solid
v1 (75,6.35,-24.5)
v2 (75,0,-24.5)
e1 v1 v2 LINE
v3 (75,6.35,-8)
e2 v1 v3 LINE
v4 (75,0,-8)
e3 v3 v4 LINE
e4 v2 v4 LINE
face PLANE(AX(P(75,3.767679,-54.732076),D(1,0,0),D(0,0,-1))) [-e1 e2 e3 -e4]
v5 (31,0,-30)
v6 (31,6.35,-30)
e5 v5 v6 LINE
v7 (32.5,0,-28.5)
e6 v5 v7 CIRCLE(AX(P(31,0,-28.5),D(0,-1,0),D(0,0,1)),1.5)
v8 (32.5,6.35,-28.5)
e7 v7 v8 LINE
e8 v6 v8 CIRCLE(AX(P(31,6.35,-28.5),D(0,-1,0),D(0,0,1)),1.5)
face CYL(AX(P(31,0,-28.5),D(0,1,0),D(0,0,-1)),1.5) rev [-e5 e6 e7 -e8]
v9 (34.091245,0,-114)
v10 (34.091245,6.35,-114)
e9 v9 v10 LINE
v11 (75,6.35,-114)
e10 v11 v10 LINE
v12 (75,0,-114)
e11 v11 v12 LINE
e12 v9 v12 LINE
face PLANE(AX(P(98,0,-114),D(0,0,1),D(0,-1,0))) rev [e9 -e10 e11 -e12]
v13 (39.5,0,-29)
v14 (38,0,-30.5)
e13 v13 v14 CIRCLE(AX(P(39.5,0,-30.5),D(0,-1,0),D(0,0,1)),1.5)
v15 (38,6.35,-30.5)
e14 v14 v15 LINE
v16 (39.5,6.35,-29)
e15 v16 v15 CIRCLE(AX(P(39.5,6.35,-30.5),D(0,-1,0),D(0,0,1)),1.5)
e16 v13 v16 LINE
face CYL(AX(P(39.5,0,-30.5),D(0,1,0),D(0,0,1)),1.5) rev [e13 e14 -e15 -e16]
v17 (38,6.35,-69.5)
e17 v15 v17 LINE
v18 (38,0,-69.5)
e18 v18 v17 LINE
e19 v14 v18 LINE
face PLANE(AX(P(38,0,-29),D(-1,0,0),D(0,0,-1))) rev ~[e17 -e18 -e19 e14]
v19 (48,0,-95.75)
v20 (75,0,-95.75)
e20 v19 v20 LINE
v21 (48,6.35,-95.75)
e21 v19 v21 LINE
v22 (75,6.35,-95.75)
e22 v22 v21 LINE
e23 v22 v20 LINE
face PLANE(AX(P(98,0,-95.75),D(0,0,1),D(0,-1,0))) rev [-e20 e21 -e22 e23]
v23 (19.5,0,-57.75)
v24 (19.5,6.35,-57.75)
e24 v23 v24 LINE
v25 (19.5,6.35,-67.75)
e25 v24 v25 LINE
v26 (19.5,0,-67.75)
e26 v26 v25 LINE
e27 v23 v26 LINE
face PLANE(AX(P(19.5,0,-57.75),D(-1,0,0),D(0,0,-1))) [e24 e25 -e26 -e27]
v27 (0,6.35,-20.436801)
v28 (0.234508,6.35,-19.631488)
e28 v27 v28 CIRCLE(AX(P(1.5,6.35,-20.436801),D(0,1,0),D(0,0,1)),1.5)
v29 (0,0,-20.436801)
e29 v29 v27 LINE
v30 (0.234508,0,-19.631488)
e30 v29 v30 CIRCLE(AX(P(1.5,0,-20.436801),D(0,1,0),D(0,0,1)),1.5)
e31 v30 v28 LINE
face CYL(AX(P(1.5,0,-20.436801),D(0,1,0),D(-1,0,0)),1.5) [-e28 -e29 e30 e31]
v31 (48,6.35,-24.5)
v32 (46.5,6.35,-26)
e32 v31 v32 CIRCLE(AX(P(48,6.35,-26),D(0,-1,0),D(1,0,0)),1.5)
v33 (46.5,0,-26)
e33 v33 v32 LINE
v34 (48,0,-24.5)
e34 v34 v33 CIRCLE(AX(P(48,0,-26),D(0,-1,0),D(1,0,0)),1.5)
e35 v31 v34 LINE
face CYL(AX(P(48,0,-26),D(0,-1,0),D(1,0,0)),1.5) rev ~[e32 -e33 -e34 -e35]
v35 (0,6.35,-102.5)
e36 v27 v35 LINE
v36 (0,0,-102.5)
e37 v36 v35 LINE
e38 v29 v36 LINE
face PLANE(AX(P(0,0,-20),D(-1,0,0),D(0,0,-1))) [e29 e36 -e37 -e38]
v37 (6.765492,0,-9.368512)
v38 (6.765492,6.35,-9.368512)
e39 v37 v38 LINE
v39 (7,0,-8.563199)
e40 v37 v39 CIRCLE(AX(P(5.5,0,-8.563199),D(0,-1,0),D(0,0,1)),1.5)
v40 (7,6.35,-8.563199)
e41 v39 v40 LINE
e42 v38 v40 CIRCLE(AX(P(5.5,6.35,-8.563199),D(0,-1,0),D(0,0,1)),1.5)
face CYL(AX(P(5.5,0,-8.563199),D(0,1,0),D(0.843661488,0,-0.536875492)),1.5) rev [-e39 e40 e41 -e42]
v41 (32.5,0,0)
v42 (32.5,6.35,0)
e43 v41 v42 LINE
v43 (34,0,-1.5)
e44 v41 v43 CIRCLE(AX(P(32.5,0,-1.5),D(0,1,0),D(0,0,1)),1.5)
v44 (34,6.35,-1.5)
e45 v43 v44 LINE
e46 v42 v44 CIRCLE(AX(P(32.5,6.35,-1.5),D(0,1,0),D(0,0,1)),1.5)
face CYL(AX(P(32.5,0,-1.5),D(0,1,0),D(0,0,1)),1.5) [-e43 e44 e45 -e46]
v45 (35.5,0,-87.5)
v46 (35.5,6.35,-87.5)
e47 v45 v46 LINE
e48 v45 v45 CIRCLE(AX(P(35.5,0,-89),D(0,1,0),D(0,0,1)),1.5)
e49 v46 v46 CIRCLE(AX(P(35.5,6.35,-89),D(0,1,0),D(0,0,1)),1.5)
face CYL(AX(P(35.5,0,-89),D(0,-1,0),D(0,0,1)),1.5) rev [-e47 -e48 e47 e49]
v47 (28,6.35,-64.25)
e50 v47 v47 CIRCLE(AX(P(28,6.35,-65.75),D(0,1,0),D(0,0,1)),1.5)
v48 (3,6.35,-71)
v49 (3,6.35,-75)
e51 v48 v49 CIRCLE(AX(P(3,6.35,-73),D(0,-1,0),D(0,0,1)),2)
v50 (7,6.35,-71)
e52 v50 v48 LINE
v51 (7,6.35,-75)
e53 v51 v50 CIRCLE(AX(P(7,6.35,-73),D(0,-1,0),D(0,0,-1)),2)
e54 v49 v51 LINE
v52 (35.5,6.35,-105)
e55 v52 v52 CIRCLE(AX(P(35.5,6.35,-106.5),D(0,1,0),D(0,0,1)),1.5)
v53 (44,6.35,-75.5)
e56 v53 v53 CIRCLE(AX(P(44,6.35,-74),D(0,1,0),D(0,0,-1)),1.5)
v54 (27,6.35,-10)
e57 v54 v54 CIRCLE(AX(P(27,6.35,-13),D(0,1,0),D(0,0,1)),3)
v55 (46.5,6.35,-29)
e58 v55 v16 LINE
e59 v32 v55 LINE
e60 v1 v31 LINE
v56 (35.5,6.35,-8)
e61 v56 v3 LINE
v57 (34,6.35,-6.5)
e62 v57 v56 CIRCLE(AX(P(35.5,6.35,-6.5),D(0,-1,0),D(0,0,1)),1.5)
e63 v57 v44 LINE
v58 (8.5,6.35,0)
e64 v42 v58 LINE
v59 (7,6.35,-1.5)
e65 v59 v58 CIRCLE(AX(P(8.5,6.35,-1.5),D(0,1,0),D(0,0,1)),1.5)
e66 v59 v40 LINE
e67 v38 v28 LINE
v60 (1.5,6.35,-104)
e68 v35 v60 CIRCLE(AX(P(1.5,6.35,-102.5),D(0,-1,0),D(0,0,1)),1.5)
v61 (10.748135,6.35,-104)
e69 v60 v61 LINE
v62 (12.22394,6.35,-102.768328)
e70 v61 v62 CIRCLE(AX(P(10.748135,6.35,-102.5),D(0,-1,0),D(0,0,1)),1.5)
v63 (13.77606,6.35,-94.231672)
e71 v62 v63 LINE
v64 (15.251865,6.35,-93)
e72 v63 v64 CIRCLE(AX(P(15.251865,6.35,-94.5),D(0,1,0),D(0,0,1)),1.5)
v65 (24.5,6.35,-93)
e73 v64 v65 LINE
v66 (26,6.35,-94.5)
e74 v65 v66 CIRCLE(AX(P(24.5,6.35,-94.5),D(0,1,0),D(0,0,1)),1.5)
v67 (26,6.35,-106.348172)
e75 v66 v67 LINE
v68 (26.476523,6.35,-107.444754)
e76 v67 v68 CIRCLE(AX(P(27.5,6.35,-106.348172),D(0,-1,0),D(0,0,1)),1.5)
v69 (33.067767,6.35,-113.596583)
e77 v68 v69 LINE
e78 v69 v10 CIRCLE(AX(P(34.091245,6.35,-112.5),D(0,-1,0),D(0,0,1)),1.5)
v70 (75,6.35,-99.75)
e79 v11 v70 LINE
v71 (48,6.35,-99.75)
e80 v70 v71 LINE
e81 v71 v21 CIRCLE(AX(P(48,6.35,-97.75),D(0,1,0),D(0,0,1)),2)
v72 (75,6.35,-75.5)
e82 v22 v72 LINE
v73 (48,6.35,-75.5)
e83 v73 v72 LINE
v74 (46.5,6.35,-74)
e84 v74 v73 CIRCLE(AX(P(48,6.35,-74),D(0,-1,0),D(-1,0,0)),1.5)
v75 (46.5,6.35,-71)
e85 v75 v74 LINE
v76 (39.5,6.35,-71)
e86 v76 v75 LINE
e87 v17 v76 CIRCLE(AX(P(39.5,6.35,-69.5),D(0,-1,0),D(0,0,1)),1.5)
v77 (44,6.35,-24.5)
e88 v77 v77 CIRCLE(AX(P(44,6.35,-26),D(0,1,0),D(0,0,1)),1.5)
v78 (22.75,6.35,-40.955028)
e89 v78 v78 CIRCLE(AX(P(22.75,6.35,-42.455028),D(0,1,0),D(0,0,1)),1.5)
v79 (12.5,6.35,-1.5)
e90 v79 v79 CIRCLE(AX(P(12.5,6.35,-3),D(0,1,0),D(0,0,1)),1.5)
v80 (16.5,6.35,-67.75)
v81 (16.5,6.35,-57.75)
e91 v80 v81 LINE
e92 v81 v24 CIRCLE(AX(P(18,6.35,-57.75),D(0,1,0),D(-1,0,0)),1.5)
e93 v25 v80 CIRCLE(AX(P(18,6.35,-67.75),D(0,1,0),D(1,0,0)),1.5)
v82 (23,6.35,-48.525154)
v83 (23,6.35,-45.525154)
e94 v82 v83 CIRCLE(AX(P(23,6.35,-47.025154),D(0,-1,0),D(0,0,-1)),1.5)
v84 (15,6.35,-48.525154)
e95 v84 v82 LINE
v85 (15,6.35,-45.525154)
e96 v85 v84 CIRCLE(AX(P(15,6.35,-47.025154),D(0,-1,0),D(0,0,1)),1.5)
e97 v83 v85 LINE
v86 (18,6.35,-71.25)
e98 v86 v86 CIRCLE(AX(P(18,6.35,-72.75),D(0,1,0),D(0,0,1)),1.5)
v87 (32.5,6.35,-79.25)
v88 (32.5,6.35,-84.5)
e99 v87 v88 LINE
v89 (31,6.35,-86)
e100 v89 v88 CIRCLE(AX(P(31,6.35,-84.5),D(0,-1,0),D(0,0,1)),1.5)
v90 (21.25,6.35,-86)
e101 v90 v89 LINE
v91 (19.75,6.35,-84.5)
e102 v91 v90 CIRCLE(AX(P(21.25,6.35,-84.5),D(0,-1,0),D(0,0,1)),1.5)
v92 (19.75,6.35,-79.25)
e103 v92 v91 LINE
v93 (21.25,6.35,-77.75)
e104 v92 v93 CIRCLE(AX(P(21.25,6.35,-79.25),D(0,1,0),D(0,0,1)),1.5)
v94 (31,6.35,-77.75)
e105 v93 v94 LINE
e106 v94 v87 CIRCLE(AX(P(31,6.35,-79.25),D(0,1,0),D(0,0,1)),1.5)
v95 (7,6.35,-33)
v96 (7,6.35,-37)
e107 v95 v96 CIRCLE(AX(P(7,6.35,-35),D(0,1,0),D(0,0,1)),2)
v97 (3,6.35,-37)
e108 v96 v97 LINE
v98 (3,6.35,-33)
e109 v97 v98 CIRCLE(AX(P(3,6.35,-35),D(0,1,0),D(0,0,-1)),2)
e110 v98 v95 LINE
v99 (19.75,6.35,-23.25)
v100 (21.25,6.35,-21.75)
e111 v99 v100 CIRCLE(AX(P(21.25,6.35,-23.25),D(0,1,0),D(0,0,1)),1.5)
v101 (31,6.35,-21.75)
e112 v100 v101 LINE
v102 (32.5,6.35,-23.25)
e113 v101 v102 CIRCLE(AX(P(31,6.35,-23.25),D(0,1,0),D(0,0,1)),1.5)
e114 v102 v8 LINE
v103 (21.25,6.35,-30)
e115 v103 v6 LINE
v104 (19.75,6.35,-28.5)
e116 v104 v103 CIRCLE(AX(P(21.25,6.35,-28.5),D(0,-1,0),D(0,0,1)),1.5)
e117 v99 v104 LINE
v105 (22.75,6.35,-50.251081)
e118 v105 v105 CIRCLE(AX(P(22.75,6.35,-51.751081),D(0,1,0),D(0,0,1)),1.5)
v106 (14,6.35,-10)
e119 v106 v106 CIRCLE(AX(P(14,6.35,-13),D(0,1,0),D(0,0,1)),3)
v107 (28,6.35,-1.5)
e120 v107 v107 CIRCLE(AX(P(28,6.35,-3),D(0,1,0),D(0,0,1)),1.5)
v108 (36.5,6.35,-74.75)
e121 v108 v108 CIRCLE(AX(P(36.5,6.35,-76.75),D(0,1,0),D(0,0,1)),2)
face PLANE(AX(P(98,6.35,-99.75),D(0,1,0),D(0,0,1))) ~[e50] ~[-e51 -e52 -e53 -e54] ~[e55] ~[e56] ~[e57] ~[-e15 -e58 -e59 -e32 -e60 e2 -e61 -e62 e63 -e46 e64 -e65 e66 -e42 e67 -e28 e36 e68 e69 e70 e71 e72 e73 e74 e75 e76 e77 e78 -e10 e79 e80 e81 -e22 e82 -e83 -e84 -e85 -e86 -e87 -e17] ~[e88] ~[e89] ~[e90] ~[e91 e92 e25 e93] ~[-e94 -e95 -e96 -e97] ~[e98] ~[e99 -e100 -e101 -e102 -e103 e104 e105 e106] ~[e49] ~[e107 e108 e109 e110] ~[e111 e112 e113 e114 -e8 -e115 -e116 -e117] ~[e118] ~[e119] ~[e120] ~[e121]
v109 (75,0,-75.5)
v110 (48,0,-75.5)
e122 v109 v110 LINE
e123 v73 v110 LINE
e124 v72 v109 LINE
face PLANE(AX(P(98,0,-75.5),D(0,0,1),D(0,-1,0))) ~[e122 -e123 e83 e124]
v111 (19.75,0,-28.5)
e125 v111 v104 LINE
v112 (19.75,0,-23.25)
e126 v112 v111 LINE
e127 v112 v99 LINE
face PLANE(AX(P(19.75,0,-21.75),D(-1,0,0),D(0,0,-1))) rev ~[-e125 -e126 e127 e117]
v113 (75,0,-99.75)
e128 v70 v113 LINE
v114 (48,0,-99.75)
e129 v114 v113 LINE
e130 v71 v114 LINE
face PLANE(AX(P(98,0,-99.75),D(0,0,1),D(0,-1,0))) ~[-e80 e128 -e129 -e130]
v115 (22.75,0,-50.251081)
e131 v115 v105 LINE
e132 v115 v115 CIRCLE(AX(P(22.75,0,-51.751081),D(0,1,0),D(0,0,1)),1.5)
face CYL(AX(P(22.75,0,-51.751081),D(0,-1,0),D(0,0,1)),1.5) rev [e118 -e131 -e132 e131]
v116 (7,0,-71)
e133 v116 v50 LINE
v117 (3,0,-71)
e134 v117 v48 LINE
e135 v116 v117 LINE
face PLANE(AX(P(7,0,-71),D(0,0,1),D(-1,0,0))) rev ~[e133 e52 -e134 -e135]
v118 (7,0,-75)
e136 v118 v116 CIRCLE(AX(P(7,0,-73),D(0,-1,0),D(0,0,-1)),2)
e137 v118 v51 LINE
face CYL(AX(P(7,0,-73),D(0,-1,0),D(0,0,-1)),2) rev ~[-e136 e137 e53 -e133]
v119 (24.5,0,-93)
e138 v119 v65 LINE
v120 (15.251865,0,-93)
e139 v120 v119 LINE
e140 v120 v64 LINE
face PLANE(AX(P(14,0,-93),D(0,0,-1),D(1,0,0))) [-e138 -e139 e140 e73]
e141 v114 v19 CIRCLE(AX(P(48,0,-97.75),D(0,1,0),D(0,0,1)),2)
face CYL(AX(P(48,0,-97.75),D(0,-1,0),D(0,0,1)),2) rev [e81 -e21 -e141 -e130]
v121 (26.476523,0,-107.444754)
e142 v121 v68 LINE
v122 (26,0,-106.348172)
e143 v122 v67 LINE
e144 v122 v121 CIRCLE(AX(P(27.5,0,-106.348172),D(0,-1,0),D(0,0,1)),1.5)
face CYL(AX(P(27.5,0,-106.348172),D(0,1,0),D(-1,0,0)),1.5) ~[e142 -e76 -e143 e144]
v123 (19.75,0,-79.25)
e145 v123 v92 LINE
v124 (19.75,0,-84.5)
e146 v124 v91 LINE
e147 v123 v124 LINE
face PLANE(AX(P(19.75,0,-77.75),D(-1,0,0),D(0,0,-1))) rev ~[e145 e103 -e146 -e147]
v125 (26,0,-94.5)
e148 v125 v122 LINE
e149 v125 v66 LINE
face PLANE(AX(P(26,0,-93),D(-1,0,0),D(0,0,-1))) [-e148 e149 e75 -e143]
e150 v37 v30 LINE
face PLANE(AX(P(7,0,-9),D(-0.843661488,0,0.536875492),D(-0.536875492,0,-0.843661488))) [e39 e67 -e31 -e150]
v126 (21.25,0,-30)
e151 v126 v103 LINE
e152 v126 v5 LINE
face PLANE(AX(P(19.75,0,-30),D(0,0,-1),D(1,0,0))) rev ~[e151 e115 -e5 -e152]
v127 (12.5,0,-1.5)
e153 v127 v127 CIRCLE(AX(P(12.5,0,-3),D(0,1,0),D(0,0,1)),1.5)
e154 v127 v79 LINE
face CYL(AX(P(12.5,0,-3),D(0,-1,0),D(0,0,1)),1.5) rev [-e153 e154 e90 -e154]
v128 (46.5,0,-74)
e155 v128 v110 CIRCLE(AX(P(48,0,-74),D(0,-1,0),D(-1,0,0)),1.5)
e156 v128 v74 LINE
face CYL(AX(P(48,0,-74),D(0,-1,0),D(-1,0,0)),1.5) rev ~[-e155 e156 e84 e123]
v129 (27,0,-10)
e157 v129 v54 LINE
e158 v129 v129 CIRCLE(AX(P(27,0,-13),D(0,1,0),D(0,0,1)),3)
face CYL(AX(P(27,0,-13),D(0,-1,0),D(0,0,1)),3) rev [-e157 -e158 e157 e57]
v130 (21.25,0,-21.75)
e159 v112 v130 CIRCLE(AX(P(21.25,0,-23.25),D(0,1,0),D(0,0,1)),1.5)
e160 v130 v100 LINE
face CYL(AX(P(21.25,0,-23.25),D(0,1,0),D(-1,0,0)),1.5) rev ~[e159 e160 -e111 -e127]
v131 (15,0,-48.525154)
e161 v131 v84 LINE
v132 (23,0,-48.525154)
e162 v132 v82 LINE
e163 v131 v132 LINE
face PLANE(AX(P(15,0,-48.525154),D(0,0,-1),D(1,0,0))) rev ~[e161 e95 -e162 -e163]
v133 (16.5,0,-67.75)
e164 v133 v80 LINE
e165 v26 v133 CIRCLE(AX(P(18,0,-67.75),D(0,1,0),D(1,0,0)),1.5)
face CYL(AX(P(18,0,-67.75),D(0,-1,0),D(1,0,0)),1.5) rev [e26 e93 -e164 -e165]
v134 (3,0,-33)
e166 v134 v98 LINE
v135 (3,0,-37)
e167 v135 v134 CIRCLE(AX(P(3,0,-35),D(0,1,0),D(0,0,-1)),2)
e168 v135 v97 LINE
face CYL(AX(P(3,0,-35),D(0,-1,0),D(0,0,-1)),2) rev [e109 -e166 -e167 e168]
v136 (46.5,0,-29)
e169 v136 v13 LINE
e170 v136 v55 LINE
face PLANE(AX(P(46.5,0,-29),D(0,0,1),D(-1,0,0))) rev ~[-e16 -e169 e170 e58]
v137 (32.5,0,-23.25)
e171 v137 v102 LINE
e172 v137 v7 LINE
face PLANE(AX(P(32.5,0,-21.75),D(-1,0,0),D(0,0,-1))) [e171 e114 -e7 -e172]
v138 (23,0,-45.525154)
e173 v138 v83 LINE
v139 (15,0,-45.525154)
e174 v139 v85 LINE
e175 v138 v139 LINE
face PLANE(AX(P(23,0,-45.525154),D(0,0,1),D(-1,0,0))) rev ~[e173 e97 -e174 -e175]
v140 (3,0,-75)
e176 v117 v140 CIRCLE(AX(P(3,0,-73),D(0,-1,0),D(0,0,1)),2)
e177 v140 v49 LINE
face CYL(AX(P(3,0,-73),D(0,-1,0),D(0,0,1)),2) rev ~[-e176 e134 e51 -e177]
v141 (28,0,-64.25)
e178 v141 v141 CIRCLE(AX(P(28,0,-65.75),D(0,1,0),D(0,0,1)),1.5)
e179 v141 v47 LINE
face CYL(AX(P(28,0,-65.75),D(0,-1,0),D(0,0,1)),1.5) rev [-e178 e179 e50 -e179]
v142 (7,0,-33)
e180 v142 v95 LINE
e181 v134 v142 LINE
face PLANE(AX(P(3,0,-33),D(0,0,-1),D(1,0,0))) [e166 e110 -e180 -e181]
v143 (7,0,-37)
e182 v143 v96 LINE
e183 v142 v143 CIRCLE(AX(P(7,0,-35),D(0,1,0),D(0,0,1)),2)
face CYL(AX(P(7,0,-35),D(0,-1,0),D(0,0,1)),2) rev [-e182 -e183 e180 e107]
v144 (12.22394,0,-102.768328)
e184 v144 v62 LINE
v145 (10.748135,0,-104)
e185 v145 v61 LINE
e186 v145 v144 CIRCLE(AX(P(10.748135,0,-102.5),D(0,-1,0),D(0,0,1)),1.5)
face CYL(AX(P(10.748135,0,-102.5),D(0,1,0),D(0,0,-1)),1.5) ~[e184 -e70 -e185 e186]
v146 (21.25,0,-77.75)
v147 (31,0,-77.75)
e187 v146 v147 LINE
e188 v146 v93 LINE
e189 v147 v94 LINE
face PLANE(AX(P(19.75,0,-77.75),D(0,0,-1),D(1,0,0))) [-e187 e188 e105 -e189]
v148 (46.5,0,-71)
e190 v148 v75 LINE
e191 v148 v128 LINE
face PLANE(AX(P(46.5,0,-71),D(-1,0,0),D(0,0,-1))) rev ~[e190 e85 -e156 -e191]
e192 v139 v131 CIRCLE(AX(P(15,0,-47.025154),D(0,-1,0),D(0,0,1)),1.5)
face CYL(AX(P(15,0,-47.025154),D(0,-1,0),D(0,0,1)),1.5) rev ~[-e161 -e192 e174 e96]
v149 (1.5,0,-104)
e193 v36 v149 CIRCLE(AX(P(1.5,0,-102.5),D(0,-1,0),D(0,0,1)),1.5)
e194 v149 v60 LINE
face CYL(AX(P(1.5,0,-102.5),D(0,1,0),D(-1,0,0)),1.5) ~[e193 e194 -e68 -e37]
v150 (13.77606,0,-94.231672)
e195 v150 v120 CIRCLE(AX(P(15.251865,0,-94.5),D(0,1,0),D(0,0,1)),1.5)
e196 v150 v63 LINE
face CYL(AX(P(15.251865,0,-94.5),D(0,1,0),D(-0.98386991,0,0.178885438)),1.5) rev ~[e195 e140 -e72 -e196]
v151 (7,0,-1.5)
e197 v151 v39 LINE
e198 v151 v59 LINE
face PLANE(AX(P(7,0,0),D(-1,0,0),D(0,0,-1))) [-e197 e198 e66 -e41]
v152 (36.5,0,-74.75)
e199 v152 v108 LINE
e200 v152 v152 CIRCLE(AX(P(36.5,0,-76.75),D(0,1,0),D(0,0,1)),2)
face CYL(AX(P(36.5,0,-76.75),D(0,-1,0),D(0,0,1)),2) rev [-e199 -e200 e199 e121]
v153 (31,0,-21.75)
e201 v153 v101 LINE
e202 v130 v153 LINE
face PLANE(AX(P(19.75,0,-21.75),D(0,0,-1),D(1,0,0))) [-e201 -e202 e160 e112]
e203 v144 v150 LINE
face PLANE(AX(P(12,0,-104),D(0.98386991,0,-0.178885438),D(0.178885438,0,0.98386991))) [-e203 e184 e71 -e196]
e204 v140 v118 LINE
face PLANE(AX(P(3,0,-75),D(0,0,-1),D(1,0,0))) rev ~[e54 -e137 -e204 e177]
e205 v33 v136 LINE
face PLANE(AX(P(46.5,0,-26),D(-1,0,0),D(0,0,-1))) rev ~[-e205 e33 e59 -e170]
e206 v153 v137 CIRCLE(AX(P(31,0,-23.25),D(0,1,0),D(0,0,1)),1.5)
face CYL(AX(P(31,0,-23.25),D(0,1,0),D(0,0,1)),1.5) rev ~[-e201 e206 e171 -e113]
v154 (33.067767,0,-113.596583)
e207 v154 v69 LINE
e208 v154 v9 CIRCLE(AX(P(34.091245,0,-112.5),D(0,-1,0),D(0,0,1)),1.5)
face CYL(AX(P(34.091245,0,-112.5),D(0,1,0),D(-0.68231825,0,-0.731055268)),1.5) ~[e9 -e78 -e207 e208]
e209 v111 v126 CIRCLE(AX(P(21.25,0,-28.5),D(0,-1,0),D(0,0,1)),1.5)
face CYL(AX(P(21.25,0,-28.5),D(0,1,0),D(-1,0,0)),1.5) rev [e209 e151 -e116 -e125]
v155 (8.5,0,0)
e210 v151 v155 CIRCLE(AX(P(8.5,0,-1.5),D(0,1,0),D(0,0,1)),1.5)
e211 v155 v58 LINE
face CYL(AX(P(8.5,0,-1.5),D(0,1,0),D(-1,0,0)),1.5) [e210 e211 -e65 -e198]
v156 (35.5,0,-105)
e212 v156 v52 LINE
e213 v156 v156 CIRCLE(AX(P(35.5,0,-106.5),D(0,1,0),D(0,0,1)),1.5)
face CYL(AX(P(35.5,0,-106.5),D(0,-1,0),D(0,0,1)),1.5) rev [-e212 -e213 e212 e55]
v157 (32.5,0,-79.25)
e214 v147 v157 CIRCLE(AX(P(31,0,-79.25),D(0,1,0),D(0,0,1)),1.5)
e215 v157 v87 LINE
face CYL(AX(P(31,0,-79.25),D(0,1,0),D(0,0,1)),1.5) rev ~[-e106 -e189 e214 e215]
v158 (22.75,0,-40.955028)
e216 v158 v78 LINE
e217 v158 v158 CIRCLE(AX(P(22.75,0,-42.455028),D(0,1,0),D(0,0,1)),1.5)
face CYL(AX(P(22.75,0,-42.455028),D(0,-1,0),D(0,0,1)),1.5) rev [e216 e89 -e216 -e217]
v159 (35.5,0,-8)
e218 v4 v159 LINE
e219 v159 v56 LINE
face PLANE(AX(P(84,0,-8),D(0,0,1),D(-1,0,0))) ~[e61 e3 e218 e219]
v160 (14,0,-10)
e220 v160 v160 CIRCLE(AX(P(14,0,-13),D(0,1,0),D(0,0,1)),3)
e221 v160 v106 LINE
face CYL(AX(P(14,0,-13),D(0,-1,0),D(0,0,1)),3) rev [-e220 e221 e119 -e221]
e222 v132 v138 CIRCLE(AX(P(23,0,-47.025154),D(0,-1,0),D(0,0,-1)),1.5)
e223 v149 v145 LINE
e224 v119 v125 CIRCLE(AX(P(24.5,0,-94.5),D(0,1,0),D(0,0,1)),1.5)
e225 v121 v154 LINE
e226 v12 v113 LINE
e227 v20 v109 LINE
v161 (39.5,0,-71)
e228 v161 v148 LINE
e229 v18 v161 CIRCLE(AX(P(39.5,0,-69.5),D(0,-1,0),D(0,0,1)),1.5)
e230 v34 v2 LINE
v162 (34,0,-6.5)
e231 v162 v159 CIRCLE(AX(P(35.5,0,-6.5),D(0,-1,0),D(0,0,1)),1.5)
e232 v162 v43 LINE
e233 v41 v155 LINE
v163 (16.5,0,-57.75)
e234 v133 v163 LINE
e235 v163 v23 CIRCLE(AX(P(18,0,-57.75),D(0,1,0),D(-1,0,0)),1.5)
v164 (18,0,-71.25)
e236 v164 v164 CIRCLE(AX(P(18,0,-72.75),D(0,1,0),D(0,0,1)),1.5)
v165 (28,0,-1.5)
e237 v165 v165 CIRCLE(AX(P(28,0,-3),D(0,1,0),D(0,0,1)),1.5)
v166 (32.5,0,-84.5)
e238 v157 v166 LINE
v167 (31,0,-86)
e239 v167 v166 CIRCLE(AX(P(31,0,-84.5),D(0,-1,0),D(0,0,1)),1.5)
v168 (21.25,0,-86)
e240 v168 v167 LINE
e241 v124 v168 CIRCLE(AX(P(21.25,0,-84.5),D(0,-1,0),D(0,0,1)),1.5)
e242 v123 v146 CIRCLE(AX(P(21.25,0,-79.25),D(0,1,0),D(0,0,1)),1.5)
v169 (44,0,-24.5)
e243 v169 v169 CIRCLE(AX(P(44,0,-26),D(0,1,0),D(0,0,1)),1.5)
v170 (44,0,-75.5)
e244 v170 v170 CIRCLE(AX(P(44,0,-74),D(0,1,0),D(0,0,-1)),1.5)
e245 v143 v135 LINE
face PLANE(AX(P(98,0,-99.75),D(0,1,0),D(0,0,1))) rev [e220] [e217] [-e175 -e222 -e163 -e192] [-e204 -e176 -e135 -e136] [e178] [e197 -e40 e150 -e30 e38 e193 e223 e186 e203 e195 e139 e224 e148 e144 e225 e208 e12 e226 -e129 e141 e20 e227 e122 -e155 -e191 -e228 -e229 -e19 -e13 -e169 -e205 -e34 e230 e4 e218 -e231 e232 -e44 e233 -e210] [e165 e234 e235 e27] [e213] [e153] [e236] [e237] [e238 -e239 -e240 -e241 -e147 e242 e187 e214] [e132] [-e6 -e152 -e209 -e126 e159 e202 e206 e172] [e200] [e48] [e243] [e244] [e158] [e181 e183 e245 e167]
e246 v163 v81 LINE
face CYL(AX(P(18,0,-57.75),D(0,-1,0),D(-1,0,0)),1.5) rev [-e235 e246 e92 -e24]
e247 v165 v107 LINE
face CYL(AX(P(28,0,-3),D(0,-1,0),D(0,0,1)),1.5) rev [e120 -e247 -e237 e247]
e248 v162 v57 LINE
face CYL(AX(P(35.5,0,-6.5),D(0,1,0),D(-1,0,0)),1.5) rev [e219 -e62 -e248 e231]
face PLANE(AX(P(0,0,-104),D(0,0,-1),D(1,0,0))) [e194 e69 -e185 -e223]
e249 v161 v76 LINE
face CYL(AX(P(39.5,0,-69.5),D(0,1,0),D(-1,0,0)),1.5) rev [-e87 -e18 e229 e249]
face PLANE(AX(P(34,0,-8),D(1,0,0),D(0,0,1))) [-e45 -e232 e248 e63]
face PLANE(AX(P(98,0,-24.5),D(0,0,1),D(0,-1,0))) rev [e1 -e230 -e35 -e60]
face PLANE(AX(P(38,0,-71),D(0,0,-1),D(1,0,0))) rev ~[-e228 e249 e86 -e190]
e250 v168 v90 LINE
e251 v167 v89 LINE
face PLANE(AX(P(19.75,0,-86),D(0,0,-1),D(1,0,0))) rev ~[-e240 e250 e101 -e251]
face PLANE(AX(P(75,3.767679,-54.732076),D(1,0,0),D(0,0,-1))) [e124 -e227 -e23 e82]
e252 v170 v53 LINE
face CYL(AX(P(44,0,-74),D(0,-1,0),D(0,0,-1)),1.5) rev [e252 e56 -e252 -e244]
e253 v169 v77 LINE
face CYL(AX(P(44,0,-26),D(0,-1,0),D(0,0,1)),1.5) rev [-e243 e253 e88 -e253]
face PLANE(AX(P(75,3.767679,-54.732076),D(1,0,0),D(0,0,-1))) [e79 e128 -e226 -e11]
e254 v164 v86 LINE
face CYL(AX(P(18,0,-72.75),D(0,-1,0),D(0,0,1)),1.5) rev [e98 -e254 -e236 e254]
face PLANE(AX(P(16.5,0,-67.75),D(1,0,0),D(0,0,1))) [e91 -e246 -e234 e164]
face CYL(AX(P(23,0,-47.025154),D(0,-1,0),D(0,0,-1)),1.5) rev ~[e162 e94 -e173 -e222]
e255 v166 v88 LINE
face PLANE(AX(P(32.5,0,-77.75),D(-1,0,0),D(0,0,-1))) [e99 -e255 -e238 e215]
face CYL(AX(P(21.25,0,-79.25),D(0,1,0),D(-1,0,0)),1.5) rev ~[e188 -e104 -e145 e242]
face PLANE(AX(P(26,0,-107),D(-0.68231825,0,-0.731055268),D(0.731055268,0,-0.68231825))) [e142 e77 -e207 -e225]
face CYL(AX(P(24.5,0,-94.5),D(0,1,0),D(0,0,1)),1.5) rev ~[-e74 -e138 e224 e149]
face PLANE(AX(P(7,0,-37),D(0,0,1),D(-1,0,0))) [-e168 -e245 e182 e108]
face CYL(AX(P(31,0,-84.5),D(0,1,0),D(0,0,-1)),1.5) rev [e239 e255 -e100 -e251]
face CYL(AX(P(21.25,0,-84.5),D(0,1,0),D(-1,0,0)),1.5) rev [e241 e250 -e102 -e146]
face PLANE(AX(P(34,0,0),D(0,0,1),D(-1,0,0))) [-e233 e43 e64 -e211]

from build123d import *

# Parameters (mm, degrees)
SKETCH1_R           = 1.5
SKETCH1_R_2         = 3
SKETCH1_R_3         = 2
SKETCH1_W           = 12.75
SKETCH1_H           = 8.25
BOSS_EXTRUDE1_DEPTH = 6.35
FILLET1_R           = 1.5
SKETCH3_W           = 129.678218063
SKETCH3_H           = 13.276015012
CUT_EXTRUDE1_DEPTH  = 56
SKETCH4_W           = 14.25
SKETCH4_H           = 6.35
SKETCH4_W_2         = 20.25
SKETCH4_W_3         = 16.5
BOSS_EXTRUDE2_DEPTH = 25
SKETCH5_W           = 158.83803675
SKETCH5_H           = 69.224935419
CUT_EXTRUDE2_DEPTH  = 86


with BuildPart() as part:
    # Sketch1 → Boss-Extrude1 (new body)
    with BuildSketch(Plane(origin=(0, 0, 0), x_dir=(1, 0, 0), z_dir=(0, 1, 0))):
        Polygon((0, 20), (0, 104), (12, 104), (14, 93), (26, 93), (26, 107), (33.5, 114), (62.5, 114), (70, 107), (70, 93), (82, 93), (84, 104), (96, 104), (96, 20), (89, 9), (89, 0), (62, 0), (62, 8), (34, 8), (34, 0), (7, 0), (7, 9), align=None)
        with Locations(Location((12.5, 3, 0), (0, 0, 270))):
            Circle(SKETCH1_R, mode=Mode.SUBTRACT)
        with Locations(Location((28, 3, 0), (0, 0, 270))):
            Circle(SKETCH1_R, mode=Mode.SUBTRACT)
        with Locations(Location((68, 3, 0), (0, 0, 90))):
            Circle(SKETCH1_R, mode=Mode.SUBTRACT)
        with Locations(Location((83.5, 3, 0), (0, 0, 90))):
            Circle(SKETCH1_R, mode=Mode.SUBTRACT)
        with Locations(Location((14, 13, 0), (0, 0, 270))):
            Circle(SKETCH1_R_2, mode=Mode.SUBTRACT)
        with Locations(Location((27, 13, 0), (0, 0, 270))):
            Circle(SKETCH1_R_2, mode=Mode.SUBTRACT)
        with Locations(Location((69, 13, 0), (0, 0, 90))):
            Circle(SKETCH1_R_2, mode=Mode.SUBTRACT)
        with Locations(Location((82, 13, 0), (0, 0, 90))):
            Circle(SKETCH1_R_2, mode=Mode.SUBTRACT)
        with Locations(Location((22.75, 42.455027657, 0), (0, 0, 270))):
            Circle(SKETCH1_R, mode=Mode.SUBTRACT)
        with Locations(Location((22.75, 51.751081058, 0), (0, 0, 270))):
            Circle(SKETCH1_R, mode=Mode.SUBTRACT)
        with Locations(Location((73.25, 42.455027657, 0), (0, 0, 90))):
            Circle(SKETCH1_R, mode=Mode.SUBTRACT)
        with Locations(Location((73.25, 51.751081058, 0), (0, 0, 90))):
            Circle(SKETCH1_R, mode=Mode.SUBTRACT)
        with Locations(Location((18, 72.75, 0), (0, 0, 270))):
            Circle(SKETCH1_R, mode=Mode.SUBTRACT)
        with Locations(Location((28, 65.75, 0), (0, 0, 270))):
            Circle(SKETCH1_R, mode=Mode.SUBTRACT)
        with Locations(Location((68, 65.75, 0), (0, 0, 90))):
            Circle(SKETCH1_R, mode=Mode.SUBTRACT)
        with Locations(Location((78, 72.75, 0), (0, 0, 90))):
            Circle(SKETCH1_R, mode=Mode.SUBTRACT)
        with Locations(Location((36.5, 76.75, 0), (0, 0, 270))):
            Circle(SKETCH1_R_3, mode=Mode.SUBTRACT)
        with Locations(Location((59.5, 76.75, 0), (0, 0, 90))):
            Circle(SKETCH1_R_3, mode=Mode.SUBTRACT)
        with Locations(Location((35.5, 89, 0), (0, 0, 270))):
            Circle(SKETCH1_R, mode=Mode.SUBTRACT)
        with Locations(Location((35.5, 106.5, 0), (0, 0, 270))):
            Circle(SKETCH1_R, mode=Mode.SUBTRACT)
        with Locations(Location((60.5, 89, 0), (0, 0, 90))):
            Circle(SKETCH1_R, mode=Mode.SUBTRACT)
        with Locations(Location((60.5, 106.5, 0), (0, 0, 90))):
            Circle(SKETCH1_R, mode=Mode.SUBTRACT)
        with Locations(Location((44, 26, 0), (0, 0, 270))):
            Circle(SKETCH1_R, mode=Mode.SUBTRACT)
        with Locations(Location((52, 26, 0), (0, 0, 90))):
            Circle(SKETCH1_R, mode=Mode.SUBTRACT)
        with Locations(Location((52, 74, 0), (0, 0, 270))):
            Circle(SKETCH1_R, mode=Mode.SUBTRACT)
        with Locations(Location((44, 74, 0), (0, 0, 90))):
            Circle(SKETCH1_R, mode=Mode.SUBTRACT)
        with Locations(Location((48, 97.75, 0), (0, 0, 270))):
            Circle(SKETCH1_R_3, mode=Mode.SUBTRACT)
        with Locations((69.875, 25.875)):
            Rectangle(SKETCH1_W, SKETCH1_H, mode=Mode.SUBTRACT)
        with Locations((26.125, 25.875)):
            Rectangle(SKETCH1_W, SKETCH1_H, mode=Mode.SUBTRACT)
        with Locations((69.875, 81.875)):
            Rectangle(SKETCH1_W, SKETCH1_H, mode=Mode.SUBTRACT)
        with Locations((26.125, 81.875)):
            Rectangle(SKETCH1_W, SKETCH1_H, mode=Mode.SUBTRACT)
        with BuildLine():
            Line((3, 75), (7, 75))
            ThreePointArc((7, 75), (9, 73), (7, 71))
            Line((7, 71), (3, 71))
            ThreePointArc((3, 71), (1, 73), (3, 75))
        make_face(mode=Mode.SUBTRACT)
        with BuildLine():
            Line((93, 75), (89, 75))
            ThreePointArc((89, 75), (87, 73), (89, 71))
            Line((89, 71), (93, 71))
            ThreePointArc((93, 71), (95, 73), (93, 75))
        make_face(mode=Mode.SUBTRACT)
        with BuildLine():
            Line((93, 37), (89, 37))
            ThreePointArc((89, 37), (87, 35), (89, 33))
            Line((89, 33), (93, 33))
            ThreePointArc((93, 33), (95, 35), (93, 37))
        make_face(mode=Mode.SUBTRACT)
        with BuildLine():
            Line((3, 33), (7, 33))
            ThreePointArc((7, 33), (9, 35), (7, 37))
            Line((7, 37), (3, 37))
            ThreePointArc((3, 37), (1, 35), (3, 33))
        make_face(mode=Mode.SUBTRACT)
        with BuildLine():
            Line((15, 48.525154469), (23, 48.525154469))
            ThreePointArc((23, 48.525154469), (24.5, 47.025154469), (23, 45.525154469))
            Line((23, 45.525154469), (15, 45.525154469))
            ThreePointArc((15, 45.525154469), (13.5, 47.025154469), (15, 48.525154469))
        make_face(mode=Mode.SUBTRACT)
        with BuildLine():
            Line((81, 48.525154469), (73, 48.525154469))
            ThreePointArc((73, 48.525154469), (71.5, 47.025154469), (73, 45.525154469))
            Line((73, 45.525154469), (81, 45.525154469))
            ThreePointArc((81, 45.525154469), (82.5, 47.025154469), (81, 48.525154469))
        make_face(mode=Mode.SUBTRACT)
        with BuildLine():
            Line((16.5, 67.75), (16.5, 57.75))
            ThreePointArc((16.5, 57.75), (18, 56.25), (19.5, 57.75))
            Line((19.5, 57.75), (19.5, 67.75))
            ThreePointArc((19.5, 67.75), (18, 69.25), (16.5, 67.75))
        make_face(mode=Mode.SUBTRACT)
        with BuildLine():
            Line((76.5, 67.75), (76.5, 57.75))
            ThreePointArc((76.5, 57.75), (78, 56.25), (79.5, 57.75))
            Line((79.5, 57.75), (79.5, 67.75))
            ThreePointArc((79.5, 67.75), (78, 69.25), (76.5, 67.75))
        make_face(mode=Mode.SUBTRACT)
        with BuildLine():
            Line((46.5, 29), (38, 29))
            Line((38, 29), (38, 71))
            Line((38, 71), (46.5, 71))
            Line((46.5, 71), (46.5, 74))
            ThreePointArc((46.5, 74), (48, 75.5), (49.5, 74))
            Line((49.5, 74), (49.5, 71))
            Line((49.5, 71), (58, 71))
            Line((58, 71), (58, 29))
            Line((58, 29), (49.5, 29))
            Line((49.5, 29), (49.5, 26))
            ThreePointArc((49.5, 26), (48, 24.5), (46.5, 26))
            Line((46.5, 26), (46.5, 29))
        make_face(mode=Mode.SUBTRACT)
    extrude(amount=BOSS_EXTRUDE1_DEPTH)

    # Fillet1
    fillet1_edges = [part.edges().sort_by_distance(p)[0] for p in [
        (19.75, 3.175, -30),
        (19.75, 3.175, -21.75),
        (32.5, 3.175, -21.75),
        (32.5, 3.175, -30),
        (63.5, 3.175, -77.75),
        (76.25, 3.175, -77.75),
        (76.25, 3.175, -86),
        (63.5, 3.175, -86),
        (19.75, 3.175, -86),
        (19.75, 3.175, -77.75),
        (32.5, 3.175, -77.75),
        (32.5, 3.175, -86),
        (58, 3.175, -29),
        (58, 3.175, -71),
        (38, 3.175, -71),
        (38, 3.175, -29),
        (62, 3.175, -8),
        (34, 3.175, -8),
        (34, 3.175, 0),
        (7, 3.175, 0),
        (7, 3.175, -9),
        (0, 3.175, -20),
        (0, 3.175, -104),
        (12, 3.175, -104),
        (14, 3.175, -93),
        (26, 3.175, -93),
        (26, 3.175, -107),
        (33.5, 3.175, -114),
        (62.5, 3.175, -114),
        (70, 3.175, -107),
        (70, 3.175, -93),
        (82, 3.175, -93),
        (84, 3.175, -104),
        (96, 3.175, -104),
        (96, 3.175, -20),
        (89, 3.175, -9),
        (89, 3.175, 0),
        (62, 3.175, 0),
        (76.25, 3.175, -21.75),
        (76.25, 3.175, -30),
        (63.5, 3.175, -30),
        (63.5, 3.175, -21.75),
    ]]
    fillet(fillet1_edges, radius=FILLET1_R)

    # Sketch3 → Cut-Extrude1 (cut)
    with BuildSketch(Plane(origin=(48, 0, 0), x_dir=(0, 0, -1), z_dir=(1, 0, 0))):
        with Locations((58.42243018, 0.940732076)):
            Rectangle(SKETCH3_W, SKETCH3_H)
    extrude(amount=CUT_EXTRUDE1_DEPTH, mode=Mode.SUBTRACT)

    # Sketch4 → Boss-Extrude2 (add)
    with BuildSketch(Plane(origin=(48, 0, 0), x_dir=(0, 0, -1), z_dir=(1, 0, 0))):
        with Locations((106.875, 3.175)):
            Rectangle(SKETCH4_W, SKETCH4_H)
        with Locations((85.625, 3.175)):
            Rectangle(SKETCH4_W_2, SKETCH4_H)
        with Locations((16.25, 3.175)):
            Rectangle(SKETCH4_W_3, SKETCH4_H)
    extrude(amount=BOSS_EXTRUDE2_DEPTH)

    # Mirror1: part across plane


with BuildPart() as part_1:
    add(part.part)
    add(part.part.mirror(Plane(origin=(73, 0, 0), x_dir=(0, 0, 1), z_dir=(1, 0, 0))))

    # Sketch5 → Cut-Extrude2 (cut)
    with BuildSketch(Plane(origin=(75, 0, 0), x_dir=(0, 0, -1), z_dir=(1, 0, 0))):
        with Locations((54.73207584, 3.767679241)):
            Rectangle(SKETCH5_W, SKETCH5_H)
    extrude(amount=CUT_EXTRUDE2_DEPTH, mode=Mode.SUBTRACT)


solid = part_1.part
